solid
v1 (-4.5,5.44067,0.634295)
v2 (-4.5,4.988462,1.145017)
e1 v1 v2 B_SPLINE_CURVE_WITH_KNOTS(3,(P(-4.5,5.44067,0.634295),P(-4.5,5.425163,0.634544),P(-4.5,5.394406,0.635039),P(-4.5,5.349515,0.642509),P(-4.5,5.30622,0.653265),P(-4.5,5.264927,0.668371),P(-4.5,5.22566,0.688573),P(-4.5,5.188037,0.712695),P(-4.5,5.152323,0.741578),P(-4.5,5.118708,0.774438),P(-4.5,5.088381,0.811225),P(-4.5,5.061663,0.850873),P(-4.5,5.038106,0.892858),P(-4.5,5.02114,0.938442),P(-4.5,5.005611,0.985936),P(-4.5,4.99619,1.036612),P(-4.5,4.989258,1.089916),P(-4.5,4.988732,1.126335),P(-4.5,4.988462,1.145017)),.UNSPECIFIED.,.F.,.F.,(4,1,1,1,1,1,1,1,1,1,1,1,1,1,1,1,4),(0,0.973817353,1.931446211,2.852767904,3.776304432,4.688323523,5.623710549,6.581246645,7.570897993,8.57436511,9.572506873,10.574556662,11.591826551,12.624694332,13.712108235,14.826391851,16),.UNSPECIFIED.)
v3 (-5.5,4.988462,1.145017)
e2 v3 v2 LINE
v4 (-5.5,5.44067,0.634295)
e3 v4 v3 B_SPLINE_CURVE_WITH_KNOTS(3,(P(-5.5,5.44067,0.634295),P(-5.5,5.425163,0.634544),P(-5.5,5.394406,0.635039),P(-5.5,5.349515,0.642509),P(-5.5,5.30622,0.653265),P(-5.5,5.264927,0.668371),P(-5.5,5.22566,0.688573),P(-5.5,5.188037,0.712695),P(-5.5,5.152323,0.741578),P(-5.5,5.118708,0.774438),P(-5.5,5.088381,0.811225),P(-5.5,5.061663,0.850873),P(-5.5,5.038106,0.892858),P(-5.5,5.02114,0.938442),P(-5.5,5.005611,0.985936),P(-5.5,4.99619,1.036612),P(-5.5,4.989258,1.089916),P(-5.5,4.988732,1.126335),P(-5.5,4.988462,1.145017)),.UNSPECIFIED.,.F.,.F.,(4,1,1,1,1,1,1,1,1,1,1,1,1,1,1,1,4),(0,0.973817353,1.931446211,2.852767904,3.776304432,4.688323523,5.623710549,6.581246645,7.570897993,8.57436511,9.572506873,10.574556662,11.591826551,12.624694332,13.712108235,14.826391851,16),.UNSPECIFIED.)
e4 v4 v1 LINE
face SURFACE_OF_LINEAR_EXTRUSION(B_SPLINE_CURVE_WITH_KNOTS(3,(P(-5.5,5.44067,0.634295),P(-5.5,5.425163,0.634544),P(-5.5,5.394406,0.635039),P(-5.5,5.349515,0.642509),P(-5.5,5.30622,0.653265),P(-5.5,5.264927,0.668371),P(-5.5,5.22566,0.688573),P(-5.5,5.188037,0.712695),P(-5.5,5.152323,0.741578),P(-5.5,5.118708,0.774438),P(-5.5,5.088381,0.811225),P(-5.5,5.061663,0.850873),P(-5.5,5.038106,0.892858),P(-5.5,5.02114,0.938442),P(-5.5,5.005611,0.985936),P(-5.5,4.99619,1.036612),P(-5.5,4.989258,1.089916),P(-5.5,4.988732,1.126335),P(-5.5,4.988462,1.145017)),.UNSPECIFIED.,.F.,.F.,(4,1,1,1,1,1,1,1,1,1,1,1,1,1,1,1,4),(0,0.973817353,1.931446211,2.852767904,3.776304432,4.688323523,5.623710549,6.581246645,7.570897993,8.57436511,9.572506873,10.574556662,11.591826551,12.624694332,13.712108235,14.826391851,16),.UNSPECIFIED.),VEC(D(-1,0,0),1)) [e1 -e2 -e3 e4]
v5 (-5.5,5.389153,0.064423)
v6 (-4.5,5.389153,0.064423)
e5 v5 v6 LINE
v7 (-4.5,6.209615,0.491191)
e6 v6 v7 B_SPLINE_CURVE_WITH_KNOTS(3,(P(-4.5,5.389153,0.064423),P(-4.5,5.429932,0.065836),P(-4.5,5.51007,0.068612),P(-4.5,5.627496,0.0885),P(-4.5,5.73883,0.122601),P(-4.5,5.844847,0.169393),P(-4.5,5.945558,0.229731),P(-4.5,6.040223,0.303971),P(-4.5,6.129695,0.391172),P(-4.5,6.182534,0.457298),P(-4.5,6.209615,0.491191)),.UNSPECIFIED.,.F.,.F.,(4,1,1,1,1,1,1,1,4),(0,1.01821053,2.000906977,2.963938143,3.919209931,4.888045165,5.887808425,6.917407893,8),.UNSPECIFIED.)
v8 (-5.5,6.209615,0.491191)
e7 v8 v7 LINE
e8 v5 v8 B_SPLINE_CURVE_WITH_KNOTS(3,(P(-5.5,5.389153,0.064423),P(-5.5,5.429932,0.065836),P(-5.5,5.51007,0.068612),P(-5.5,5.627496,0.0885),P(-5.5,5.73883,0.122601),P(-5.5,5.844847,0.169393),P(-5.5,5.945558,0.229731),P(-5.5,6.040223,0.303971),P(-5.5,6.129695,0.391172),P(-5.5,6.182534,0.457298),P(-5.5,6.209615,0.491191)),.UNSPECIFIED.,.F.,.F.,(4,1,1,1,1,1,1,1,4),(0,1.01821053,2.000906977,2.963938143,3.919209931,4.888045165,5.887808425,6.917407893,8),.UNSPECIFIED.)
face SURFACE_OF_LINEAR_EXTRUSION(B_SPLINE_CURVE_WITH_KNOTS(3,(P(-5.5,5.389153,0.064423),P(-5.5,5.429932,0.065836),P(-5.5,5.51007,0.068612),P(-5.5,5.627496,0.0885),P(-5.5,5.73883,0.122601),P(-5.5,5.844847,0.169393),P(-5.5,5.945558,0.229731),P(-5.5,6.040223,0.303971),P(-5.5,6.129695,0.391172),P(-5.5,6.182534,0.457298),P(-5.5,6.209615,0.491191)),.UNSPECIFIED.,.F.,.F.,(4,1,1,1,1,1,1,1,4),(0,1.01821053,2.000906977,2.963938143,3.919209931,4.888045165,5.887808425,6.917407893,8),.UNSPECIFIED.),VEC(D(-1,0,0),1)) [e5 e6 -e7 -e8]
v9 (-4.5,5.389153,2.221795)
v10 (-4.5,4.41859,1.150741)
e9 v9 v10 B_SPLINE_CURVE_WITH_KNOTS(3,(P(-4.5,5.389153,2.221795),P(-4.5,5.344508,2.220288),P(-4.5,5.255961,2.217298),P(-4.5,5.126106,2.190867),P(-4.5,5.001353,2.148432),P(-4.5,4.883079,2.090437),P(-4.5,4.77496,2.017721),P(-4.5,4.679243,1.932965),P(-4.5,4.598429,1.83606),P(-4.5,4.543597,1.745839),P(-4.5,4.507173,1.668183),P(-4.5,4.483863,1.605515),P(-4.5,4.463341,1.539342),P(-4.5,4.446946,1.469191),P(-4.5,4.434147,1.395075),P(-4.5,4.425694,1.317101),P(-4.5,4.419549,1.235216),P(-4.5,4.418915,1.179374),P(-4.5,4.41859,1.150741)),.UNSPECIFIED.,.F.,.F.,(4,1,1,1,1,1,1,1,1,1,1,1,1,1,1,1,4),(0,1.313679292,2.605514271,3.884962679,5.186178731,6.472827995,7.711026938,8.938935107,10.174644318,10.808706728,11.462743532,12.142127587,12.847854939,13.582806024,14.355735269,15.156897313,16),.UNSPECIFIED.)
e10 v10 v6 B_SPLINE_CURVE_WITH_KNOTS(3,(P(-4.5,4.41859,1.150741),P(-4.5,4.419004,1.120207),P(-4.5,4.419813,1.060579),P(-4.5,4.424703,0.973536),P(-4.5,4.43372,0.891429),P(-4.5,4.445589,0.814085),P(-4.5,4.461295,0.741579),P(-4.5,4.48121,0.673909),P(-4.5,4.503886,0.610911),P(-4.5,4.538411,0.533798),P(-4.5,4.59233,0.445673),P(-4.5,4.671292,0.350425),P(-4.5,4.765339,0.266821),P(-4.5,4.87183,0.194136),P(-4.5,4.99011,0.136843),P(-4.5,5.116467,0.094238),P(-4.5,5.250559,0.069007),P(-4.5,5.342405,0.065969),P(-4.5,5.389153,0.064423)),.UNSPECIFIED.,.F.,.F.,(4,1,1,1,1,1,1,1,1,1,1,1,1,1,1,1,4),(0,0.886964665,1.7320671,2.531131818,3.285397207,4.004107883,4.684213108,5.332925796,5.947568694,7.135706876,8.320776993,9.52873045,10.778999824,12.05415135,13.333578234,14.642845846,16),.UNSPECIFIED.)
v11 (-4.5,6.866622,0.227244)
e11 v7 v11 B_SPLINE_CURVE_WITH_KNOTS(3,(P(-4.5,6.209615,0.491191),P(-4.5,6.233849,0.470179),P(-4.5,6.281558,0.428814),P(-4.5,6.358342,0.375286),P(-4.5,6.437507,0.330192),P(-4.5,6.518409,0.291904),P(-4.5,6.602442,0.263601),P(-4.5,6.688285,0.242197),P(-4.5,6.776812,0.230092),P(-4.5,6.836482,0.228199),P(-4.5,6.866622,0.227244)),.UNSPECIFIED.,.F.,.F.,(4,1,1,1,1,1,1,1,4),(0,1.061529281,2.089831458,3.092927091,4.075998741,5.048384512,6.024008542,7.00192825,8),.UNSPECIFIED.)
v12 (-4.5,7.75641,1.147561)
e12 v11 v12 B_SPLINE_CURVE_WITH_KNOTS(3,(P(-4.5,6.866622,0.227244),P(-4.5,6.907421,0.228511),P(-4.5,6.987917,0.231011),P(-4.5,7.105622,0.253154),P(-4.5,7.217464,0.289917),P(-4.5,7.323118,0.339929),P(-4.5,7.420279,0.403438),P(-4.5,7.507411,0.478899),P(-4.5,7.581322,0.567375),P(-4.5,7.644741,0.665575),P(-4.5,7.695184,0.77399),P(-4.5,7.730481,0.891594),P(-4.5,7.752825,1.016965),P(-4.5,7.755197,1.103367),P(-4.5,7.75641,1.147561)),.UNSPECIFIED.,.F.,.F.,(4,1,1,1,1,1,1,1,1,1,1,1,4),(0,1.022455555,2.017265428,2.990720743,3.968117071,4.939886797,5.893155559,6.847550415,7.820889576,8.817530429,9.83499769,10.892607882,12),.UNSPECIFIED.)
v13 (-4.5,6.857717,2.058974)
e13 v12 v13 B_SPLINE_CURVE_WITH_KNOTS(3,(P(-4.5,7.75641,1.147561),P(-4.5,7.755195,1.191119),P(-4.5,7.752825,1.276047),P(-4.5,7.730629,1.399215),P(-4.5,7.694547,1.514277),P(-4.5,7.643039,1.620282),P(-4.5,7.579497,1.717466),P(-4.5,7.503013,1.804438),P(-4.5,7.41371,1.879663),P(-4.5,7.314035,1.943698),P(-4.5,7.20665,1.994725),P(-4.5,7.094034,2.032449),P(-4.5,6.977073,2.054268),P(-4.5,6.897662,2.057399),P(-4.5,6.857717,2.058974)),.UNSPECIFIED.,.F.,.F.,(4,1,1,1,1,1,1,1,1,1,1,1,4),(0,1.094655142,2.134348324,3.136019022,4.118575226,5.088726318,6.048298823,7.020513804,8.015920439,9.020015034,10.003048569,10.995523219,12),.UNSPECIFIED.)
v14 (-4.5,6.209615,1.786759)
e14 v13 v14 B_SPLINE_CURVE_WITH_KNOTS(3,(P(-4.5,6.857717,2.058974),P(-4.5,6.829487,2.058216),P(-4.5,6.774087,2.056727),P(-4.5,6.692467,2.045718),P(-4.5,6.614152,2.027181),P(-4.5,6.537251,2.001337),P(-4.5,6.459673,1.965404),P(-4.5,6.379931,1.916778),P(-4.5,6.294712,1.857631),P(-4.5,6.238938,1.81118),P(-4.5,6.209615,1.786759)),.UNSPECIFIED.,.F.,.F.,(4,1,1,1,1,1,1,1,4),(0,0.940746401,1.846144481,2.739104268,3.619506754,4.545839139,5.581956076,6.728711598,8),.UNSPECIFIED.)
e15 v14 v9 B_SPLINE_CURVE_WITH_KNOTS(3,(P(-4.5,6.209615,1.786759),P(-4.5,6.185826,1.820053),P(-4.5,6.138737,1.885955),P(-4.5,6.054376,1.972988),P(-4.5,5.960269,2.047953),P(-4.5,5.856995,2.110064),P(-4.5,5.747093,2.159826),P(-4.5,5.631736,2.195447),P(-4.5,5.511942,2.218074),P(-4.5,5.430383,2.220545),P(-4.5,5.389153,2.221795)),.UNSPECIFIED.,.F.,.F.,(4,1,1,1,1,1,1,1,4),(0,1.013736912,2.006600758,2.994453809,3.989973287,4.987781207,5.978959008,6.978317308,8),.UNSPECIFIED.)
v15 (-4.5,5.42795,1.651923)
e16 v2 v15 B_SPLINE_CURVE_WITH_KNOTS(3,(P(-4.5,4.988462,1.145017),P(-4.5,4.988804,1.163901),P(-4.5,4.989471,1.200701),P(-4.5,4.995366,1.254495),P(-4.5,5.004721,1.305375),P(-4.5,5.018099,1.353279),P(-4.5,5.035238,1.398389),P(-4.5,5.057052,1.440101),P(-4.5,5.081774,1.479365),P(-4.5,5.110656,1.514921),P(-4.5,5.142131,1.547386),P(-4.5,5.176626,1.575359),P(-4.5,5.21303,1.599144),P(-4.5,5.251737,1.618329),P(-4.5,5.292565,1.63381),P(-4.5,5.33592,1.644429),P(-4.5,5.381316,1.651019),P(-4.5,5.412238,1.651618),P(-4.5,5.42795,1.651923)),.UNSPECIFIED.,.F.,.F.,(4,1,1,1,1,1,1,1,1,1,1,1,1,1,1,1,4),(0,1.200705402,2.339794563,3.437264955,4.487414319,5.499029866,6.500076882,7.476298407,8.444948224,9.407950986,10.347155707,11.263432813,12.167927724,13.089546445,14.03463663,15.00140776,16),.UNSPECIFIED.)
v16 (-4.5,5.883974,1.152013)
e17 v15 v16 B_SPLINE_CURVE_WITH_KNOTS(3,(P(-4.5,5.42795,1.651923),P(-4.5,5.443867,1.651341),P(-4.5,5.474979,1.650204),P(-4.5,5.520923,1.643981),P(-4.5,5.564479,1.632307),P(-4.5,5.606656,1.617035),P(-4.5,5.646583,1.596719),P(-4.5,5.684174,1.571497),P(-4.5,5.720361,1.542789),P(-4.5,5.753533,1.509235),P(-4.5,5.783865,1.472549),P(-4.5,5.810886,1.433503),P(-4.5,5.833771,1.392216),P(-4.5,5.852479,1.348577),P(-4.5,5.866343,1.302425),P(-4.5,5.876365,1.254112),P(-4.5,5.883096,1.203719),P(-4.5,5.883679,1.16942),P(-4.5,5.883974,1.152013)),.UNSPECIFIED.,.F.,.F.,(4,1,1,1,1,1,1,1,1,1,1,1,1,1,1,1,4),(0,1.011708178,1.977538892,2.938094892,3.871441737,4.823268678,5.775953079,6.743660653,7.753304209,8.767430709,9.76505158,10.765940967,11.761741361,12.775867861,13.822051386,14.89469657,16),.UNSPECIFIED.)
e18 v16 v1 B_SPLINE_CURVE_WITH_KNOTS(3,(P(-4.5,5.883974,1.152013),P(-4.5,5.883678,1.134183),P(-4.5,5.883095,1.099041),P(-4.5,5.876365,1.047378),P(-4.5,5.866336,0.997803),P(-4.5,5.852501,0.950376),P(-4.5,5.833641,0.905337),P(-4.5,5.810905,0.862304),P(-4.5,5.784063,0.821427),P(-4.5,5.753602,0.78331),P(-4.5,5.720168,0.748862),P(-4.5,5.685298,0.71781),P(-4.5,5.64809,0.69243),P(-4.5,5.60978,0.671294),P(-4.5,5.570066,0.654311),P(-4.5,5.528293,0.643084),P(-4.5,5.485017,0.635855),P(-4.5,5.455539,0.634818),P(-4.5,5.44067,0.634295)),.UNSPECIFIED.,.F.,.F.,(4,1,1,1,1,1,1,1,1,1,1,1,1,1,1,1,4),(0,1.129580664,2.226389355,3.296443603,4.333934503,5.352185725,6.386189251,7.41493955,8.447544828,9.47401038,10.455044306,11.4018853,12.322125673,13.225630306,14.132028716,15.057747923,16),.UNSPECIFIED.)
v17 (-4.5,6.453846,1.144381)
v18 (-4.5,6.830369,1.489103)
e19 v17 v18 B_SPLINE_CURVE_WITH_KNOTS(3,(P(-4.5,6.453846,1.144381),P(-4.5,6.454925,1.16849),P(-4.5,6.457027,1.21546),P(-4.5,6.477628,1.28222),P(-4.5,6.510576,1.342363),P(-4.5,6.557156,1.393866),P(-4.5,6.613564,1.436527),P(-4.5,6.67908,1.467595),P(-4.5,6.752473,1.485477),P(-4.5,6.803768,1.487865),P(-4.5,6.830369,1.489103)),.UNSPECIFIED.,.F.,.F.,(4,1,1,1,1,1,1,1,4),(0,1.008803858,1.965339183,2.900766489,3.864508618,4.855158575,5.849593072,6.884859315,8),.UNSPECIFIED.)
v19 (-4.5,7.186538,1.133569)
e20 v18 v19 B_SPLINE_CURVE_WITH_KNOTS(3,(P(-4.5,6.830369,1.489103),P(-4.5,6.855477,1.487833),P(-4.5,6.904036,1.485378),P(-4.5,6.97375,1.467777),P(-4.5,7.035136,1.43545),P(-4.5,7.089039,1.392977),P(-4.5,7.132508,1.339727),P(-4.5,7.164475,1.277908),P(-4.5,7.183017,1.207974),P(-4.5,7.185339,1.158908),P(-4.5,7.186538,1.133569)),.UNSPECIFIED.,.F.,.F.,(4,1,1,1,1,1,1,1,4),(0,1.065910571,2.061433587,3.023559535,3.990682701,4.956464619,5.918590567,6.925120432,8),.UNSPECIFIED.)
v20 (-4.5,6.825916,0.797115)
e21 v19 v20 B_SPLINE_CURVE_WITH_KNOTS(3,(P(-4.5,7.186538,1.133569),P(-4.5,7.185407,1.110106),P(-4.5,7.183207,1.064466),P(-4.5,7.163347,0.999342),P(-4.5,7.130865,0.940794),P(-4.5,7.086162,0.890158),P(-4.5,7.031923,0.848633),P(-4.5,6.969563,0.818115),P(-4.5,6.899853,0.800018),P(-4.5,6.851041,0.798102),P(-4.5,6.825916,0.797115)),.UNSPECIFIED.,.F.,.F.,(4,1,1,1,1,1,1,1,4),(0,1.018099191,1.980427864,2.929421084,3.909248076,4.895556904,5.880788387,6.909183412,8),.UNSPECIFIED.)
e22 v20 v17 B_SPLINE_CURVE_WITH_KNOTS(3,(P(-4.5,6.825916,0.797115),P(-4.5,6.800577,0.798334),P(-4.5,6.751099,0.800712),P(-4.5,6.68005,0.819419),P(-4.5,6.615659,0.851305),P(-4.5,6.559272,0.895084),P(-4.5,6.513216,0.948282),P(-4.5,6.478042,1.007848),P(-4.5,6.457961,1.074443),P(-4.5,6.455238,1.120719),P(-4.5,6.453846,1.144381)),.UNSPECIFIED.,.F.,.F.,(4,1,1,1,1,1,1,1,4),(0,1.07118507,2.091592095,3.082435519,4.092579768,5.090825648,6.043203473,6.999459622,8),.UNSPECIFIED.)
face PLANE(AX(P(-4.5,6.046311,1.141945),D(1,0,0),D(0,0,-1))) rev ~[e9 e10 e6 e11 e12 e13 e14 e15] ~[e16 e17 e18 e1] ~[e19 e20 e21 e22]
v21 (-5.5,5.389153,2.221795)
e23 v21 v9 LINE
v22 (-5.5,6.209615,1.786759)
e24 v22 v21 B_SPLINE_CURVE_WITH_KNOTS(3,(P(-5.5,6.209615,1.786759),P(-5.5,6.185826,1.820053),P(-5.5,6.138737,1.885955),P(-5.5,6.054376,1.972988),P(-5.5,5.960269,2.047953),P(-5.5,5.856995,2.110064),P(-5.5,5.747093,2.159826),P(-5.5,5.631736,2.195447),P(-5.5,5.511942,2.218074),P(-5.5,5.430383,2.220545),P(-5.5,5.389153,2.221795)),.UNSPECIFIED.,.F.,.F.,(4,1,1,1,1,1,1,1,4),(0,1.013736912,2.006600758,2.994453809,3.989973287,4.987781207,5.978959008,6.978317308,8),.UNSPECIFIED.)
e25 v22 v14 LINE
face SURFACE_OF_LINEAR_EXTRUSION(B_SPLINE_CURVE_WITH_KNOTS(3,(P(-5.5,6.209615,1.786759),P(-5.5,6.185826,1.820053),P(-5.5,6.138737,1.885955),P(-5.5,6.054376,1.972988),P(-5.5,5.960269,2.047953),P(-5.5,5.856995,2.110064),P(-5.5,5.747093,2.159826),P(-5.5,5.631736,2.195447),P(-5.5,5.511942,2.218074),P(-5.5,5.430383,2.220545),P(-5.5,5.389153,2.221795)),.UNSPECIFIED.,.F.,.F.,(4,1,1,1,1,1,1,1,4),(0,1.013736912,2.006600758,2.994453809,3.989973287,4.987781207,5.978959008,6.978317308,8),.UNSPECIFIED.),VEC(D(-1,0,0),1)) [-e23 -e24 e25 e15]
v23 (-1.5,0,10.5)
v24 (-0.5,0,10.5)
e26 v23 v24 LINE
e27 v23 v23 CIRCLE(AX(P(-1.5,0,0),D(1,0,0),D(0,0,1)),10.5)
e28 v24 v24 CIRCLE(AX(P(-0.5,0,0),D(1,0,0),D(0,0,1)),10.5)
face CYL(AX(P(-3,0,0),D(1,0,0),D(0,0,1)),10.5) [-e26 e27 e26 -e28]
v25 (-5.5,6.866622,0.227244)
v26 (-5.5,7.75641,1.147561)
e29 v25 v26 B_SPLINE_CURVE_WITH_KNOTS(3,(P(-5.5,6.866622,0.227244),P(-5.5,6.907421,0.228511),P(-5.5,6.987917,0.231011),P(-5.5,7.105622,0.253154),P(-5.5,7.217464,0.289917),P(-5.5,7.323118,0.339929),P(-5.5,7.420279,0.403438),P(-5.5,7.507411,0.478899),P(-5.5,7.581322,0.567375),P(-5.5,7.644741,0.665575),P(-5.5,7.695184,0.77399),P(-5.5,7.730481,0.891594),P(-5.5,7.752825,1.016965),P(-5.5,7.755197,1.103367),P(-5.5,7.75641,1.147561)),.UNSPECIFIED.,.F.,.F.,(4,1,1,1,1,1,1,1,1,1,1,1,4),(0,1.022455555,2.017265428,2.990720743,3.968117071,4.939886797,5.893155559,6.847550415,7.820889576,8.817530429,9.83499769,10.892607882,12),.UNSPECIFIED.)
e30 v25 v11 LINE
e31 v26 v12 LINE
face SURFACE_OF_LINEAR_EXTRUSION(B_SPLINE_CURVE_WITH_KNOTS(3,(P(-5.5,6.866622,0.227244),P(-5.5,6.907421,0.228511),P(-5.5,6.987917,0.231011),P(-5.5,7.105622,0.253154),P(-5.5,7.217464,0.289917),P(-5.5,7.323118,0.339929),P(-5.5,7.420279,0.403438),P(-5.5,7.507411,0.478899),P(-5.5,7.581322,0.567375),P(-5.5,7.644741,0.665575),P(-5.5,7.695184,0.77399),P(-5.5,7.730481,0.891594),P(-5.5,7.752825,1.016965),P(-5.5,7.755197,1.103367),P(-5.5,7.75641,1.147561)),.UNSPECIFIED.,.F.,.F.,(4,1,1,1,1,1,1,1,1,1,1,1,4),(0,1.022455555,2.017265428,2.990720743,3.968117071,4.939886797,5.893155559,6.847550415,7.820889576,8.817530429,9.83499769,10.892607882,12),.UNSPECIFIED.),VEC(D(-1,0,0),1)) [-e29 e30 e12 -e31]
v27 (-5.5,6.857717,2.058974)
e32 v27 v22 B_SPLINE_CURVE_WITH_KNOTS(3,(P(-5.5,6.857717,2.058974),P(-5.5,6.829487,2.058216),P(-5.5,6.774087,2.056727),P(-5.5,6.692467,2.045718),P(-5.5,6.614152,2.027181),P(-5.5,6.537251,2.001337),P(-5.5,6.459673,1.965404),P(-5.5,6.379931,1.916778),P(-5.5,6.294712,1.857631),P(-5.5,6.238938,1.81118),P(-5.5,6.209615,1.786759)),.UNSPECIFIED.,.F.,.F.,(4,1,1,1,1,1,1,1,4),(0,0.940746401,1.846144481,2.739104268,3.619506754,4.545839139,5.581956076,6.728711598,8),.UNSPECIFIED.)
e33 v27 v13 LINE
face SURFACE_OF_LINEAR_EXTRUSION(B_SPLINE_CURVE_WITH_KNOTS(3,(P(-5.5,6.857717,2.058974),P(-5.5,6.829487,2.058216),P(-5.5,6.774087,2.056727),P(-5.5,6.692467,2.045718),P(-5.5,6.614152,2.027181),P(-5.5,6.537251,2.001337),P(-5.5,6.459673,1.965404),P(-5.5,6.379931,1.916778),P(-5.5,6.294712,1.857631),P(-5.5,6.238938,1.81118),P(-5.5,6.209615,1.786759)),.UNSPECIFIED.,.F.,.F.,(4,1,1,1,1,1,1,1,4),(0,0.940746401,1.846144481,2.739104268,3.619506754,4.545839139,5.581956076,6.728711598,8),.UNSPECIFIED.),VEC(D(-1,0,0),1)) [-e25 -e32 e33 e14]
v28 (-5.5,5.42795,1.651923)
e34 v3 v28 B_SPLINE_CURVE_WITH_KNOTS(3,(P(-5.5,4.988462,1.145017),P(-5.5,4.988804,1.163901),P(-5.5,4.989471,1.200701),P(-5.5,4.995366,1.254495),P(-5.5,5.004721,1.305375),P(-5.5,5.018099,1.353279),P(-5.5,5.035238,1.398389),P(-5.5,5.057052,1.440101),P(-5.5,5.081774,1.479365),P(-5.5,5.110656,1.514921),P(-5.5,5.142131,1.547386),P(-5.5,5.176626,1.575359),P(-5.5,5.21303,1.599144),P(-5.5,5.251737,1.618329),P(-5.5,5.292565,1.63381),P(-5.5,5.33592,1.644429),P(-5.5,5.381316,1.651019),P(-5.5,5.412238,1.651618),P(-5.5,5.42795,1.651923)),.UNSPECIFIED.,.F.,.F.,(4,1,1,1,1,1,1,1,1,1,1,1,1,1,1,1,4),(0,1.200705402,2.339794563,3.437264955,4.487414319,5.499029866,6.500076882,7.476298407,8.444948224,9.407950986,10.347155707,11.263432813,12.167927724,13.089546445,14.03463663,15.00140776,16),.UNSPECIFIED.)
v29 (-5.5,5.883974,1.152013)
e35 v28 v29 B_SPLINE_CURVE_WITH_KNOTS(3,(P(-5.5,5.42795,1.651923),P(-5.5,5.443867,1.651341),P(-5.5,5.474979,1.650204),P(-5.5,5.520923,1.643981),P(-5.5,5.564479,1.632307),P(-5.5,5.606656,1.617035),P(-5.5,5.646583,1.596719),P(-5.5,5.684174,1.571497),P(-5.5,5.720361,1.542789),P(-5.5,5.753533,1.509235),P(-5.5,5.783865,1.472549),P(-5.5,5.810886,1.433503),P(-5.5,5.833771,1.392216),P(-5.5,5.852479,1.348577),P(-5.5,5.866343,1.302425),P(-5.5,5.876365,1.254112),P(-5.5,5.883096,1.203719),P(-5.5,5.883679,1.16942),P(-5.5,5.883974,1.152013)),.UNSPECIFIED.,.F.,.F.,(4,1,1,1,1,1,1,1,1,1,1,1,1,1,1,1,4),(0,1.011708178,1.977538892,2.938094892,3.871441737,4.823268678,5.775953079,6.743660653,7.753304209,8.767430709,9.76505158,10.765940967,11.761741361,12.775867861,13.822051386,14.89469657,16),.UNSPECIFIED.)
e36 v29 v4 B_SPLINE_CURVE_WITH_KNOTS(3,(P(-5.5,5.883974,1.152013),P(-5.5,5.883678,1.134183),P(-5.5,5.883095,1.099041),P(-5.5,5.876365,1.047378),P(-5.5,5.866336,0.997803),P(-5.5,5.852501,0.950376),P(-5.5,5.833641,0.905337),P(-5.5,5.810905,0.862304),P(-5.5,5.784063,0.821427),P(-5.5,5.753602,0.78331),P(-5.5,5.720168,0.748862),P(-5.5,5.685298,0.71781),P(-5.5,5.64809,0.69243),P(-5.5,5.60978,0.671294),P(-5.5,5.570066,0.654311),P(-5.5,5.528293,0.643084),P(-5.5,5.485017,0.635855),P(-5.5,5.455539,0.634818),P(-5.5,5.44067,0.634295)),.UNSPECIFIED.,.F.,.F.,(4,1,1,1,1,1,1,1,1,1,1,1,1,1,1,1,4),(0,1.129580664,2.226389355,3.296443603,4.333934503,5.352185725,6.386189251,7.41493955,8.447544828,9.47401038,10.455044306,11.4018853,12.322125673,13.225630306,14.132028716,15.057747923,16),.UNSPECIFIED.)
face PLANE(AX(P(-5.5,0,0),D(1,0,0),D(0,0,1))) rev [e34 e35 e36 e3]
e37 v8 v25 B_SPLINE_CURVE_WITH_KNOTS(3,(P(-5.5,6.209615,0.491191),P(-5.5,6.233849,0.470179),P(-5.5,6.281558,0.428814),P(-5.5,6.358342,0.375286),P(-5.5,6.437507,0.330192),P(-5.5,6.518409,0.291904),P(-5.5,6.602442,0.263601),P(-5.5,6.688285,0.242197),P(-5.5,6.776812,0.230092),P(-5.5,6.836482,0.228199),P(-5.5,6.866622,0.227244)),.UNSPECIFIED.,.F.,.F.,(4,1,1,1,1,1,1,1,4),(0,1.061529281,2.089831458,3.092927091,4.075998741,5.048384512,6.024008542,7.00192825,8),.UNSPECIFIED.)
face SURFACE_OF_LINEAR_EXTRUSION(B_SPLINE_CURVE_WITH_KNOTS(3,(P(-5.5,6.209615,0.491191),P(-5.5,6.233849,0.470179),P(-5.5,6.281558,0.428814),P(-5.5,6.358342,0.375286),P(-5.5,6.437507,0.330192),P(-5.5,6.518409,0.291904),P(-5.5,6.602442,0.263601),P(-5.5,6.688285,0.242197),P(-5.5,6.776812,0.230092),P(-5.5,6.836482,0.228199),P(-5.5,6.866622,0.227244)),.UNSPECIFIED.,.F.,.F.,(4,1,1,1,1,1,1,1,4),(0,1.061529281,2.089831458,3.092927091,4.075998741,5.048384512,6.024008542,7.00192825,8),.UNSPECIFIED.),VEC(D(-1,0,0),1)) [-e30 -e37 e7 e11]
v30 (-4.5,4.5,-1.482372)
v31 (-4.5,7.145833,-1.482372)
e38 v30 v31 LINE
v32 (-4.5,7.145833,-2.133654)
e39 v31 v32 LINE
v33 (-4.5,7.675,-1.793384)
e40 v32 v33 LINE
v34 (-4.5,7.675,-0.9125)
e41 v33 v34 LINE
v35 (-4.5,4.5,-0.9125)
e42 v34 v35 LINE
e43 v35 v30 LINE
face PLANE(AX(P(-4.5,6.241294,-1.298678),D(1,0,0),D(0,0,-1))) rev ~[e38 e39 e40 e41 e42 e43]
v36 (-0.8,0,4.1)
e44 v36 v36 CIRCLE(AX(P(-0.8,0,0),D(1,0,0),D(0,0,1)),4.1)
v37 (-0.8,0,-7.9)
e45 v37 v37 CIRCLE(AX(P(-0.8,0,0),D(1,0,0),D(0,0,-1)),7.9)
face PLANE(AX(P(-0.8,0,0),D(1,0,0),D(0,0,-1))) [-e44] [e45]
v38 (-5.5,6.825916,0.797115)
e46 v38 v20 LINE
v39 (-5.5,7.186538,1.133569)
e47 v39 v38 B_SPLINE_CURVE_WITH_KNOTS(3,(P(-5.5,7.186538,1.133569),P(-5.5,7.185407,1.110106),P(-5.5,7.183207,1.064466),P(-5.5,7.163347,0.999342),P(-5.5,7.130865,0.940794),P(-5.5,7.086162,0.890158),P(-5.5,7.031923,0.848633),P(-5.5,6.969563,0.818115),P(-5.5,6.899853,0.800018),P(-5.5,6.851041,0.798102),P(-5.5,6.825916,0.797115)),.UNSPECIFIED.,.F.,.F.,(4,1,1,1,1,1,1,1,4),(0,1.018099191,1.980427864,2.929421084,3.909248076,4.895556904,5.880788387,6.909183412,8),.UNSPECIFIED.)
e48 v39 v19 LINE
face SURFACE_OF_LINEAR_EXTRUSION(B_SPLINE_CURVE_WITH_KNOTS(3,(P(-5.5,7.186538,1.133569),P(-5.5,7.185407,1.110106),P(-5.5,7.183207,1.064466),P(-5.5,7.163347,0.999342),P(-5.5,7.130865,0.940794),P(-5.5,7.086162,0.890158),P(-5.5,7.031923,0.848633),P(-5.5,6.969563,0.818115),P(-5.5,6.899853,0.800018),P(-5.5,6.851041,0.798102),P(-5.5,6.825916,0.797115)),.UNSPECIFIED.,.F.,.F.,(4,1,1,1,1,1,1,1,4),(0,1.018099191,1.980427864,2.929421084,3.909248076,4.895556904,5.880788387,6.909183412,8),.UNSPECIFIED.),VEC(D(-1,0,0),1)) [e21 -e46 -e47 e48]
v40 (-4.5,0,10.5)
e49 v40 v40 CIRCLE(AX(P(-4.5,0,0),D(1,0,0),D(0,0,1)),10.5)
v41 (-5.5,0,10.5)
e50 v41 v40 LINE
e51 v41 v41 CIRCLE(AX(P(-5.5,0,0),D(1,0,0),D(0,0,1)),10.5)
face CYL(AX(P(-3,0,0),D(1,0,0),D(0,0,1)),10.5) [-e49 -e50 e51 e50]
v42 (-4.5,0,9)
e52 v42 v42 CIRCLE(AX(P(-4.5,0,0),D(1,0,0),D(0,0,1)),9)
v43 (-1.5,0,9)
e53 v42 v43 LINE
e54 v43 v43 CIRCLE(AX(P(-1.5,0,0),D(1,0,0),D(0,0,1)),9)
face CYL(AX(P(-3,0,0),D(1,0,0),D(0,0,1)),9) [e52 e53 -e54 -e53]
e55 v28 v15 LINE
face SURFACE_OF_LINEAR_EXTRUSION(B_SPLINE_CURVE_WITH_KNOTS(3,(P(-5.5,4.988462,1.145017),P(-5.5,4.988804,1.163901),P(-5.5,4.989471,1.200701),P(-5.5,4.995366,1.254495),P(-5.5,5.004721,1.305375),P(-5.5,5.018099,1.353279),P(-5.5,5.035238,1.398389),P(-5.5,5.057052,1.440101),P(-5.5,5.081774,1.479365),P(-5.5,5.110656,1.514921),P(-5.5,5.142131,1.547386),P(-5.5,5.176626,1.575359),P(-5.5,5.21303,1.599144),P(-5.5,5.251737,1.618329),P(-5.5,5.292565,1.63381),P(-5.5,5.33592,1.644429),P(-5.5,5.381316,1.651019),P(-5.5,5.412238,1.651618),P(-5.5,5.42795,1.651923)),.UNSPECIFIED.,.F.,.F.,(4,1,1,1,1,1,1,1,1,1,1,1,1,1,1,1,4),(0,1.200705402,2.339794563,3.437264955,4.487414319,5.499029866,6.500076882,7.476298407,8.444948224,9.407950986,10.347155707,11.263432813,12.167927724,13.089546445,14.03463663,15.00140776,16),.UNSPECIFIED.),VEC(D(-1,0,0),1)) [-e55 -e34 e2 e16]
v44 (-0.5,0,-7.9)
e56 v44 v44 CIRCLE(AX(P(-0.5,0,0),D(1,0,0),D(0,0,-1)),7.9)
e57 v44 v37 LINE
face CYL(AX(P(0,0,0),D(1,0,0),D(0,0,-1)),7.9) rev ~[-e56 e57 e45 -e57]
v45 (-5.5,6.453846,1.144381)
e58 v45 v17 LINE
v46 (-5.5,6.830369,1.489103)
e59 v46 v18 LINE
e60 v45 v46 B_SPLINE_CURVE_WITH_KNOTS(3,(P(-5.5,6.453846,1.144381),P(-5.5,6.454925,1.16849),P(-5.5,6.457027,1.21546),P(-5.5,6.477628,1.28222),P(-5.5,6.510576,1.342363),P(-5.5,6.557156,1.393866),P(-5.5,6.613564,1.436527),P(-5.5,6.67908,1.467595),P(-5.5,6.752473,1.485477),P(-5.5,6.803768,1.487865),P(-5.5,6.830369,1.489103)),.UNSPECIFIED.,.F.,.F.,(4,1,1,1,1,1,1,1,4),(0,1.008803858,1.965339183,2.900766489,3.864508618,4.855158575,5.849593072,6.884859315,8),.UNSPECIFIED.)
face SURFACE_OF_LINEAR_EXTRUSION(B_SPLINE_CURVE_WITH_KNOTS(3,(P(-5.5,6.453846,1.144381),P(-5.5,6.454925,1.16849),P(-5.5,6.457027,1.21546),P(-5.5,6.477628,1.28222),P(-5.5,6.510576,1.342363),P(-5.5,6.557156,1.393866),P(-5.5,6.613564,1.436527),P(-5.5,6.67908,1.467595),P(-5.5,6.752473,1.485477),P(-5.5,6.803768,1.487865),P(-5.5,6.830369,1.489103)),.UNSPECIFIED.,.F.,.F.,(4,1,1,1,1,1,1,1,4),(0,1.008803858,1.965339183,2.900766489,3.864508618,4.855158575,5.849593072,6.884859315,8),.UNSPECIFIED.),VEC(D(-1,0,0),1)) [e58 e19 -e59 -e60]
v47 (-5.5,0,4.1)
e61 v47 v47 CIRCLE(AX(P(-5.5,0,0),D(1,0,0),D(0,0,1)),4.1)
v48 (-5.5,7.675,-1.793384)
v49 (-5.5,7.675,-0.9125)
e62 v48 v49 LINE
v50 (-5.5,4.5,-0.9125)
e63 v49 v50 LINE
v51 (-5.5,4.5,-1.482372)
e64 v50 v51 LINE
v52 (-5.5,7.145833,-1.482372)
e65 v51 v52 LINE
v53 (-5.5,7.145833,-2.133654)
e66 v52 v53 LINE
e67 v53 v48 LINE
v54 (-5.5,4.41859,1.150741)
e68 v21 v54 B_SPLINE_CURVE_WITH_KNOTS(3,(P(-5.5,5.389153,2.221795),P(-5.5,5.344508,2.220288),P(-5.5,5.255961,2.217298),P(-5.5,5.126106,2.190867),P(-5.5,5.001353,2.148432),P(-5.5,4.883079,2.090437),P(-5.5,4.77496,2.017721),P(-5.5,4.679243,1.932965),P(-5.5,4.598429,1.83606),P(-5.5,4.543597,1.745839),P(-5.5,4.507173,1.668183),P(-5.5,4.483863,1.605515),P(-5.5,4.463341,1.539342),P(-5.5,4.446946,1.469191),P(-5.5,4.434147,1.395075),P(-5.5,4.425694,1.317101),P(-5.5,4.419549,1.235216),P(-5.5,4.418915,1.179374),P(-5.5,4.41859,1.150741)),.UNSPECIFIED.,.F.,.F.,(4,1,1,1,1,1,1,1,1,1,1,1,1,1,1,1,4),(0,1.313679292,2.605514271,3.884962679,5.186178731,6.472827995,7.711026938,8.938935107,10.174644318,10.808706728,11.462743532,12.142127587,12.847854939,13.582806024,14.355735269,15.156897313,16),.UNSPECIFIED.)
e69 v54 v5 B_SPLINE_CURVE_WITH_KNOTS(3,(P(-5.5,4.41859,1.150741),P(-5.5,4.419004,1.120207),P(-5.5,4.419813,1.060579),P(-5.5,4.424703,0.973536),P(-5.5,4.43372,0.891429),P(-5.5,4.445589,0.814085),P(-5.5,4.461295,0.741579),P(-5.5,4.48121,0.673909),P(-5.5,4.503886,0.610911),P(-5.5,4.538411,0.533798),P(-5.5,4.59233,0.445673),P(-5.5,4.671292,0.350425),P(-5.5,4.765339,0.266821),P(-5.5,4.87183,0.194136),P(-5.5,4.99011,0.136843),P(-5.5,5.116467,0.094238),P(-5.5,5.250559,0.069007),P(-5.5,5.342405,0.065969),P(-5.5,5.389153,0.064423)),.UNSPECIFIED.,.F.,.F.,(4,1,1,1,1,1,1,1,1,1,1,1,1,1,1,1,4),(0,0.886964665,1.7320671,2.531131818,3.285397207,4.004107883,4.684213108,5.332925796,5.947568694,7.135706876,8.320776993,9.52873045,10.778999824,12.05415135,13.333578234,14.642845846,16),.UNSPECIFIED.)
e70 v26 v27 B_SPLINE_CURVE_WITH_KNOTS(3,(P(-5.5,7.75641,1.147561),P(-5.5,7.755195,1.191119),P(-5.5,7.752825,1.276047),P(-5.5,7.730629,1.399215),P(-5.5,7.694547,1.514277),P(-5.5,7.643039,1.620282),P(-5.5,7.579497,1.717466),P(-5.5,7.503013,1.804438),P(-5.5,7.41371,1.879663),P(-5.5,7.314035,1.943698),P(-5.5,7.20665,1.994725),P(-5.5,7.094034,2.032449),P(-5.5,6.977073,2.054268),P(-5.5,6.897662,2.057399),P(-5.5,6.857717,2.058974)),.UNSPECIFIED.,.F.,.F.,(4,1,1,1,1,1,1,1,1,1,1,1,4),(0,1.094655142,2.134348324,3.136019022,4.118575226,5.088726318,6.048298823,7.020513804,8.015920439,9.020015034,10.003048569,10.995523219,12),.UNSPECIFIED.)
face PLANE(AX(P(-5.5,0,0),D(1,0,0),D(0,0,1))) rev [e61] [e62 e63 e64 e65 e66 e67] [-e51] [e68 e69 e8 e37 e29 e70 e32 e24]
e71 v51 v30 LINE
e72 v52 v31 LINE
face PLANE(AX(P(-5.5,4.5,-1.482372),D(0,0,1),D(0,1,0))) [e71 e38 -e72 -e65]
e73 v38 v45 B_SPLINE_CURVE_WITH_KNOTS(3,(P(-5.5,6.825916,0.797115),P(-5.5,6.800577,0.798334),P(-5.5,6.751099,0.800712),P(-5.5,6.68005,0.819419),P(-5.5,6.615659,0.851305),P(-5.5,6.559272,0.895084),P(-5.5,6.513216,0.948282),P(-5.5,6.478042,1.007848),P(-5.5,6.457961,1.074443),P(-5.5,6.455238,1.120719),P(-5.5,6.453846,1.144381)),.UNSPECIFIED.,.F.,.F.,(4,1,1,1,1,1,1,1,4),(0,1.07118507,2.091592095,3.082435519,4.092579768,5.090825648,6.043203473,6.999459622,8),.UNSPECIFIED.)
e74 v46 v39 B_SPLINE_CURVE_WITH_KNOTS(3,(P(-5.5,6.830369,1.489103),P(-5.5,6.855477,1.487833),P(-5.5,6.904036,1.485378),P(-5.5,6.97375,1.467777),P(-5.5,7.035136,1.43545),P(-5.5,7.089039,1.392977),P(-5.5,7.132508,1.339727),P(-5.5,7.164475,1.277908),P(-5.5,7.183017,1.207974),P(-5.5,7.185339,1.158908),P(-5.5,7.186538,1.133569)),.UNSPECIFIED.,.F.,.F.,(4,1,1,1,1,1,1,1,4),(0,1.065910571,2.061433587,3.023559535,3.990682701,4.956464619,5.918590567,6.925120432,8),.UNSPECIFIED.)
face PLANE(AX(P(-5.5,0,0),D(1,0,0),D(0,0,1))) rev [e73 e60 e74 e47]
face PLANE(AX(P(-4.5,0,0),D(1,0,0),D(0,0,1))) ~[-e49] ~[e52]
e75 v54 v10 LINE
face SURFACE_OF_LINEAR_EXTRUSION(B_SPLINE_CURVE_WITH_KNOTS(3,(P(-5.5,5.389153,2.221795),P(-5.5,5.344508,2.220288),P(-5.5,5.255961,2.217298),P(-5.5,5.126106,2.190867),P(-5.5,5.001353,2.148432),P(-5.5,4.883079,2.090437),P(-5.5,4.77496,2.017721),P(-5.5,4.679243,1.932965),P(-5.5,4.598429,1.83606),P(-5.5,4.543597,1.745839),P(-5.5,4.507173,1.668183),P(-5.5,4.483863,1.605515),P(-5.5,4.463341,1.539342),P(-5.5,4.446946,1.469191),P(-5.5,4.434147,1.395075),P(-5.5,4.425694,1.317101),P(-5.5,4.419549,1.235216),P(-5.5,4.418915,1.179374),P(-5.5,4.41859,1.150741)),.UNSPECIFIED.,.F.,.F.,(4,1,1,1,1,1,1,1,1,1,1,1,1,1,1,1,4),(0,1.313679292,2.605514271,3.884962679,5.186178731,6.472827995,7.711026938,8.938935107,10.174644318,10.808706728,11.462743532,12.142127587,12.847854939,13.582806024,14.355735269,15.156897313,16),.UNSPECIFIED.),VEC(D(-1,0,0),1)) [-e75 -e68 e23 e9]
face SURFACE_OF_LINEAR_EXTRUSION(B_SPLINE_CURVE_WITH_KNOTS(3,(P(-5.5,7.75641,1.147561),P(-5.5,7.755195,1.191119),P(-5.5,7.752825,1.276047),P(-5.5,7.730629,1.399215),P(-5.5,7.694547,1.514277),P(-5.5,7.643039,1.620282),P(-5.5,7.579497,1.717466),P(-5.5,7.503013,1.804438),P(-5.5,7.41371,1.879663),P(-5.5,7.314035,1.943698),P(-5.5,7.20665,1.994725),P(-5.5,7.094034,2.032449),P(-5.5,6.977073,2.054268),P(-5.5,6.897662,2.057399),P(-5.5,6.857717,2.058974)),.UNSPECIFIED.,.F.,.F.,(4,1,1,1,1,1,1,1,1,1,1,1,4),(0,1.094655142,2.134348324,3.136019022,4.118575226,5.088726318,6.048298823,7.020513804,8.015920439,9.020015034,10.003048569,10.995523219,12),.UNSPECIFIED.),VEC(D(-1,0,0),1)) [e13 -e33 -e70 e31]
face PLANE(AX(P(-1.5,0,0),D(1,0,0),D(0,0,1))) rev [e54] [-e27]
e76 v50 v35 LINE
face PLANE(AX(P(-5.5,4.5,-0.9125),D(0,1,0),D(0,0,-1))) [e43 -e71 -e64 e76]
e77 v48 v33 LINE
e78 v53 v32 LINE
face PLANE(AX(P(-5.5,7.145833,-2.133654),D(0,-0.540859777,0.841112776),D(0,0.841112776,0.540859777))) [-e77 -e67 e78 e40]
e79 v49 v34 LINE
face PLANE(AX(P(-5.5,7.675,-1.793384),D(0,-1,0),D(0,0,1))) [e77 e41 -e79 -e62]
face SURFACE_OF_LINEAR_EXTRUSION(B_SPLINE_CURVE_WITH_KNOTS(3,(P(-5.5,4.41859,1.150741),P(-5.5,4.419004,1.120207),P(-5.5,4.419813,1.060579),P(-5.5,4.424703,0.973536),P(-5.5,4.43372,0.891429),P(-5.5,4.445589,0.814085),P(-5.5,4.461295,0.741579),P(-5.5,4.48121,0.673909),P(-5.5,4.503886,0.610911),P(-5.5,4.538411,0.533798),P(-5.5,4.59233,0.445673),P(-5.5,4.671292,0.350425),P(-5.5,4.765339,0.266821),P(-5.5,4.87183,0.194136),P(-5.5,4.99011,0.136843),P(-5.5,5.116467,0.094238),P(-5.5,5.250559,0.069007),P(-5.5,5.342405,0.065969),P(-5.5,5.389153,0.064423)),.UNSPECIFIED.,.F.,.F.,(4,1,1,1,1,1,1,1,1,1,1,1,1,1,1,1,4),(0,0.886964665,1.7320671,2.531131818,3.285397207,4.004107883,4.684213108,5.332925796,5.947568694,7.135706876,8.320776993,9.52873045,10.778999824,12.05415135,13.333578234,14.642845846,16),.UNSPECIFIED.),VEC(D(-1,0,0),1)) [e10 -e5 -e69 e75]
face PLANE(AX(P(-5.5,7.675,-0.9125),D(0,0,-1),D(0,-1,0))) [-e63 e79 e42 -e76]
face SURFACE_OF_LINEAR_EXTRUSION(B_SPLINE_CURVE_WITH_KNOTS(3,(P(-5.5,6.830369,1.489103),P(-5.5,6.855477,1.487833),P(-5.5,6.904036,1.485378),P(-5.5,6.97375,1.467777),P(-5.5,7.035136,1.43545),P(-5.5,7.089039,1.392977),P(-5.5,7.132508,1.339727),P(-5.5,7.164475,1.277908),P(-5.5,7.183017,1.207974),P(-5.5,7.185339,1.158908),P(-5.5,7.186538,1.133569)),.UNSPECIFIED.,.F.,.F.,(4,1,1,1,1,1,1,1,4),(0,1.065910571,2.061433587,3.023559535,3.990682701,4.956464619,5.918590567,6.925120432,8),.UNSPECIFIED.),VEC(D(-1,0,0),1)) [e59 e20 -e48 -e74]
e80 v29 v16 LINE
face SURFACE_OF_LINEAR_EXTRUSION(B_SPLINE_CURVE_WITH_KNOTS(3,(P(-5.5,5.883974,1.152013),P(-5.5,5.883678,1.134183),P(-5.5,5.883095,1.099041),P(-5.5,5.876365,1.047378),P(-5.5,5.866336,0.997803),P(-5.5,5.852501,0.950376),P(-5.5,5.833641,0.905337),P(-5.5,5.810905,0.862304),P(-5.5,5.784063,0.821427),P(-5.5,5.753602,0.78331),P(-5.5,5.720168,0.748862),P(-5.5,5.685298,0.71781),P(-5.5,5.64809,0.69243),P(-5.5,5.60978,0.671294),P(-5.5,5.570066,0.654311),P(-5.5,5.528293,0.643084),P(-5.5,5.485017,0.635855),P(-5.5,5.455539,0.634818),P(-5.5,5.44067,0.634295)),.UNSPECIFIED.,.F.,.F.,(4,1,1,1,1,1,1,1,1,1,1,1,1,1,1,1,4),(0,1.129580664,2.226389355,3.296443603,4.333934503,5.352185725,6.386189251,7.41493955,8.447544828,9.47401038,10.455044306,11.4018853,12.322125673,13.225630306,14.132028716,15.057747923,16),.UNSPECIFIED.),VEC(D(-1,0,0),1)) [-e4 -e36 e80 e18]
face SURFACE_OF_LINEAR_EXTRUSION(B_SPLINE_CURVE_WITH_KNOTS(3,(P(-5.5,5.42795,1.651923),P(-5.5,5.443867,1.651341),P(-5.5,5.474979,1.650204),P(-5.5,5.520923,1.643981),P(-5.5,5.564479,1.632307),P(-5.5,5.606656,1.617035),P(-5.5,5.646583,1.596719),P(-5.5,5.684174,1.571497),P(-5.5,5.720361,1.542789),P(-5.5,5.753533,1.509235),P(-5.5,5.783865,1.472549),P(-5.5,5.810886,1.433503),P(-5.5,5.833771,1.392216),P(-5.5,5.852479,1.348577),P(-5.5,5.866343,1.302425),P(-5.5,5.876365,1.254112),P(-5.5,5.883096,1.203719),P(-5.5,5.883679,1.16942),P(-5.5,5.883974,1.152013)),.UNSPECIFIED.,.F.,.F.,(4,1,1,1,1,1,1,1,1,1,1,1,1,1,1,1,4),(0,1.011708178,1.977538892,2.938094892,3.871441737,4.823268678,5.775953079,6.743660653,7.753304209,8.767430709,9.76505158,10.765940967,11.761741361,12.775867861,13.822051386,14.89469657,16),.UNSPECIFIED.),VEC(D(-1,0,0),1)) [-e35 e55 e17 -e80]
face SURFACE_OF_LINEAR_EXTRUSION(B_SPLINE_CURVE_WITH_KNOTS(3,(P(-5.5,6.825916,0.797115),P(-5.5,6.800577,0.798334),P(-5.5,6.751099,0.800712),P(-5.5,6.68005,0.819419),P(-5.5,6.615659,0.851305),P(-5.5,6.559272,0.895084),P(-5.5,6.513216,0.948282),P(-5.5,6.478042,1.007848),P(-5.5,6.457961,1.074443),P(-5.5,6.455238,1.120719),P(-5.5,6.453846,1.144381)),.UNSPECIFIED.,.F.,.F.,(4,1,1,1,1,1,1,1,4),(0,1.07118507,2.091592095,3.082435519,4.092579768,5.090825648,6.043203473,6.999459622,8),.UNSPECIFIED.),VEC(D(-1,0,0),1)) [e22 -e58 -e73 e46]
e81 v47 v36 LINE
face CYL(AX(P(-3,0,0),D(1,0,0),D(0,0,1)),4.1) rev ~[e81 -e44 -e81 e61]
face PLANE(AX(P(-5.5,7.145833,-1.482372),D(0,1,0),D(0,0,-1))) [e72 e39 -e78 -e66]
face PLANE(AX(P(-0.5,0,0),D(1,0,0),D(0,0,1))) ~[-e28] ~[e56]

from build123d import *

# Parameters (mm, degrees)
SKETCH1_W          = 5
SKETCH1_H          = 6.4
SKETCH2_W          = 3
SKETCH2_H          = 1.5
SKETCH3_R          = 7.9
CUT_EXTRUDE1_DEPTH = 0.8
CUT_EXTRUDE2_DEPTH = 1


with BuildPart() as part:
    # Sketch1 → Revolve1 (revolve)
    with BuildSketch(Plane.XY, mode=Mode.PRIVATE) as revolve1_sk:
        with Locations((-3, 7.3)):
            Rectangle(SKETCH1_W, SKETCH1_H)
    revolve(revolve1_sk.sketch.rotate(Axis((0, 0, 0), (1, 0, 0)), 90), axis=Axis((0, 0, 0), (1, 0, 0)))

    # Sketch2 → Cut-Revolve1 (revolve, cut)
    with BuildSketch(Plane.XY, mode=Mode.PRIVATE) as cut_revolve1_sk:
        with Locations((-3, 9.75)):
            Rectangle(SKETCH2_W, SKETCH2_H)
    revolve(cut_revolve1_sk.sketch.rotate(Axis((0, 0, 0), (1, 0, 0)), 90), axis=Axis((0, 0, 0), (1, 0, 0)), mode=Mode.SUBTRACT)

    # Sketch3 → Cut-Extrude1 (cut)
    with BuildSketch(Plane(origin=(0, 0, 0), x_dir=(0, 0, -1), z_dir=(1, 0, 0))):
        Circle(SKETCH3_R)
    extrude(amount=-CUT_EXTRUDE1_DEPTH, mode=Mode.SUBTRACT)

    # Sketch5 → Cut-Extrude2 (cut)
    # profile 1 of 2: a face of its own
    with BuildSketch(Plane.ZY.offset(5.5)):
        Polygon((-1.793384415, 7.675), (-0.9125, 7.675), (-0.9125, 4.5), (-1.482371795, 4.5), (-1.482371795, 7.145833333), (-2.133653846, 7.145833333), align=None)
    # profile 2 of 2: a face of its own
    with BuildSketch(Plane.ZY.offset(5.5)):
        with BuildLine():
            add(Edge.make_bspline(
                [(1.786758814, 6.209615385), (1.820052688, 6.185826012), (1.885954908, 6.138737096), (1.972987633, 6.054375541), (2.047953153, 5.960269248), (2.110064245, 5.856995446), (2.159825779, 5.747092633), (2.195447488, 5.631735537), (2.218073988, 5.511941637), (2.220545477, 5.430382608), (2.221794872, 5.389152644)],
                knots=[0, 0, 0, 0, 1.013736912, 2.006600758, 2.994453809, 3.989973287, 4.987781207, 5.978959008, 6.978317308, 8, 8, 8, 8], degree=3))
            add(Edge.make_bspline(
                [(2.221794872, 5.389152644), (2.220287572, 5.34450785), (2.217298037, 5.255960631), (2.190866551, 5.126106148), (2.14843186, 5.00135344), (2.090436575, 4.883079461), (2.017721153, 4.774959714), (1.932964566, 4.679242926), (1.836059971, 4.598428905), (1.745839049, 4.543597114), (1.668182749, 4.507173392), (1.605514797, 4.483862941), (1.539341558, 4.46334135), (1.469190831, 4.446945961), (1.395075371, 4.434146669), (1.31710095, 4.42569404), (1.235216239, 4.419549495), (1.179374328, 4.418915055), (1.150741186, 4.418589744)],
                knots=[0, 0, 0, 0, 1.313679292, 2.605514271, 3.884962679, 5.186178731, 6.472827995, 7.711026938, 8.938935107, 10.174644318, 10.808706728, 11.462743532, 12.142127587, 12.847854939, 13.582806024, 14.355735269, 15.156897313, 16, 16, 16, 16], degree=3))
            add(Edge.make_bspline(
                [(1.150741186, 4.418589744), (1.120206781, 4.41900393), (1.060579108, 4.419812753), (0.973535988, 4.424703329), (0.891428611, 4.433719654), (0.814084743, 4.445588948), (0.741578798, 4.461295464), (0.673908628, 4.481210467), (0.610910835, 4.503885913), (0.533798227, 4.538411225), (0.4456725, 4.592329893), (0.350424526, 4.671292228), (0.266821174, 4.765338836), (0.194135977, 4.871829843), (0.136842765, 4.990110116), (0.094237825, 5.116467223), (0.069006675, 5.250558751), (0.065969127, 5.342404855), (0.064423077, 5.389152644)],
                knots=[0, 0, 0, 0, 0.886964665, 1.7320671, 2.531131818, 3.285397207, 4.004107883, 4.684213108, 5.332925796, 5.947568694, 7.135706876, 8.320776993, 9.52873045, 10.778999824, 12.05415135, 13.333578234, 14.642845846, 16, 16, 16, 16], degree=3))
            add(Edge.make_bspline(
                [(0.064423077, 5.389152644), (0.065835907, 5.4299324), (0.068612291, 5.510069557), (0.088499898, 5.627495836), (0.122601102, 5.738829844), (0.169393262, 5.844846641), (0.229730957, 5.945558024), (0.30397099, 6.040222955), (0.391172072, 6.129695445), (0.457298282, 6.182533521), (0.491190905, 6.209615385)],
                knots=[0, 0, 0, 0, 1.01821053, 2.000906977, 2.963938143, 3.919209931, 4.888045165, 5.887808425, 6.917407893, 8, 8, 8, 8], degree=3))
            add(Edge.make_bspline(
                [(0.491190905, 6.209615385), (0.470179277, 6.233849224), (0.428813708, 6.281558356), (0.375286255, 6.358342401), (0.33019163, 6.437506832), (0.291904146, 6.518409188), (0.263601062, 6.602442406), (0.242197406, 6.68828531), (0.230091519, 6.776812445), (0.228199332, 6.836482365), (0.22724359, 6.866621595)],
                knots=[0, 0, 0, 0, 1.061529281, 2.089831458, 3.092927091, 4.075998741, 5.048384512, 6.024008542, 7.00192825, 8, 8, 8, 8], degree=3))
            add(Edge.make_bspline(
                [(0.22724359, 6.866621595), (0.228510758, 6.907421227), (0.231010833, 6.987917329), (0.25315385, 7.105621637), (0.289916635, 7.217464189), (0.339929274, 7.323117526), (0.403437554, 7.420279049), (0.47889914, 7.507411214), (0.567374874, 7.581322406), (0.665574579, 7.64474147), (0.773990481, 7.695184406), (0.89159394, 7.730480594), (1.016964877, 7.752824943), (1.103366784, 7.755196971), (1.147561098, 7.756410256)],
                knots=[0, 0, 0, 0, 1.022455555, 2.017265428, 2.990720743, 3.968117071, 4.939886797, 5.893155559, 6.847550415, 7.820889576, 8.817530429, 9.83499769, 10.892607882, 12, 12, 12, 12], degree=3))
            add(Edge.make_bspline(
                [(1.147561098, 7.756410256), (1.191118898, 7.755194985), (1.276047488, 7.752825462), (1.399215198, 7.730629167), (1.514277223, 7.694546749), (1.620282085, 7.643038738), (1.717466215, 7.579497441), (1.804438236, 7.503012731), (1.879663021, 7.413710397), (1.94369846, 7.314035335), (1.994724865, 7.206649897), (2.032448506, 7.094033972), (2.054268305, 6.977072732), (2.057399401, 6.897661569), (2.058974359, 6.857717348)],
                knots=[0, 0, 0, 0, 1.094655142, 2.134348324, 3.136019022, 4.118575226, 5.088726318, 6.048298823, 7.020513804, 8.015920439, 9.020015034, 10.003048569, 10.995523219, 12, 12, 12, 12], degree=3))
            add(Edge.make_bspline(
                [(2.058974359, 6.857717348), (2.058215664, 6.829486932), (2.056726782, 6.774086853), (2.045718289, 6.692466901), (2.027181337, 6.614152447), (2.00133663, 6.537250953), (1.965403664, 6.459672577), (1.916778006, 6.379930777), (1.857631279, 6.294712264), (1.811180399, 6.238938489), (1.786758814, 6.209615385)],
                knots=[0, 0, 0, 0, 0.940746401, 1.846144481, 2.739104268, 3.619506754, 4.545839139, 5.581956076, 6.728711598, 8, 8, 8, 8], degree=3))
        make_face()
        with BuildLine():
            add(Edge.make_bspline(
                [(1.13356871, 7.186538462), (1.110105898, 7.185407337), (1.064465545, 7.183207049), (0.999342106, 7.163347019), (0.940794009, 7.130864527), (0.890157731, 7.086162225), (0.848633343, 7.031922679), (0.8181152, 6.969563237), (0.80001758, 6.899853484), (0.798101595, 6.851041394), (0.797115385, 6.825916466)],
                knots=[0, 0, 0, 0, 1.018099191, 1.980427864, 2.929421084, 3.909248076, 4.895556904, 5.880788387, 6.909183412, 8, 8, 8, 8], degree=3))
            add(Edge.make_bspline(
                [(0.797115385, 6.825916466), (0.798333656, 6.800576967), (0.800712448, 6.751099152), (0.819418974, 6.680050049), (0.851304765, 6.615659356), (0.89508374, 6.559271984), (0.948282285, 6.513216409), (1.007848346, 6.478041724), (1.074442524, 6.457961409), (1.120719086, 6.455238447), (1.14438101, 6.453846154)],
                knots=[0, 0, 0, 0, 1.07118507, 2.091592095, 3.082435519, 4.092579768, 5.090825648, 6.043203473, 6.999459622, 8, 8, 8, 8], degree=3))
            add(Edge.make_bspline(
                [(1.14438101, 6.453846154), (1.168490274, 6.454924942), (1.215459644, 6.457026624), (1.282220098, 6.477627967), (1.342362736, 6.510575617), (1.393866019, 6.557156306), (1.436526559, 6.613564099), (1.467595246, 6.679080076), (1.485477259, 6.752473276), (1.487864571, 6.803768386), (1.489102564, 6.83036859)],
                knots=[0, 0, 0, 0, 1.008803858, 1.965339183, 2.900766489, 3.864508618, 4.855158575, 5.849593072, 6.884859315, 8, 8, 8, 8], degree=3))
            add(Edge.make_bspline(
                [(1.489102564, 6.83036859), (1.487833255, 6.855476908), (1.485378456, 6.904035512), (1.467776605, 6.973749787), (1.435449925, 7.035135947), (1.392976839, 7.089038677), (1.339726971, 7.132507876), (1.277907775, 7.164475387), (1.207974461, 7.183016853), (1.158907715, 7.185339172), (1.13356871, 7.186538462)],
                knots=[0, 0, 0, 0, 1.065910571, 2.061433587, 3.023559535, 3.990682701, 4.956464619, 5.918590567, 6.925120432, 8, 8, 8, 8], degree=3))
        make_face(mode=Mode.SUBTRACT)
        with BuildLine():
            add(Edge.make_bspline(
                [(1.152013221, 5.883974359), (1.13418326, 5.883678266), (1.09904063, 5.88309467), (1.047378076, 5.876364936), (0.997802545, 5.866335968), (0.950375546, 5.852501289), (0.905336675, 5.833641141), (0.862304152, 5.810904884), (0.821426594, 5.784062683), (0.783310327, 5.753601858), (0.748862129, 5.720168201), (0.717810211, 5.68529798), (0.692429653, 5.648089706), (0.671293699, 5.609780194), (0.654310841, 5.570065862), (0.643083888, 5.528292696), (0.635855302, 5.485016998), (0.634818075, 5.455539347), (0.634294872, 5.440670072)],
                knots=[0, 0, 0, 0, 1.129580664, 2.226389355, 3.296443603, 4.333934503, 5.352185725, 6.386189251, 7.41493955, 8.447544828, 9.47401038, 10.455044306, 11.4018853, 12.322125673, 13.225630306, 14.132028716, 15.057747923, 16, 16, 16, 16], degree=3))
            add(Edge.make_bspline(
                [(0.634294872, 5.440670072), (0.63454424, 5.425162887), (0.63503883, 5.394406304), (0.642508927, 5.349514587), (0.653264548, 5.306219609), (0.66837116, 5.264926636), (0.688573384, 5.225659711), (0.712695206, 5.188037072), (0.741577744, 5.152322538), (0.774437858, 5.118707595), (0.81122461, 5.088380917), (0.850872666, 5.061662584), (0.892858367, 5.038106335), (0.938442094, 5.021140191), (0.985935698, 5.005611286), (1.036611549, 4.996190273), (1.089916154, 4.98925803), (1.126335289, 4.988731586), (1.145017027, 4.988461538)],
                knots=[0, 0, 0, 0, 0.973817353, 1.931446211, 2.852767904, 3.776304432, 4.688323523, 5.623710549, 6.581246645, 7.570897993, 8.57436511, 9.572506873, 10.574556662, 11.591826551, 12.624694332, 13.712108235, 14.826391851, 16, 16, 16, 16], degree=3))
            add(Edge.make_bspline(
                [(1.145017027, 4.988461538), (1.163901485, 4.988803842), (1.200701313, 4.989470882), (1.25449526, 4.995366257), (1.305374788, 5.004720502), (1.353279122, 5.018099252), (1.398389413, 5.035237963), (1.440100547, 5.057052151), (1.479364857, 5.081773696), (1.514920581, 5.110655854), (1.547385577, 5.142131378), (1.57535873, 5.176625875), (1.599143992, 5.213030128), (1.618329397, 5.251737483), (1.633810296, 5.292565228), (1.644429222, 5.335920457), (1.651018647, 5.381315958), (1.651618364, 5.412238245), (1.651923077, 5.42794972)],
                knots=[0, 0, 0, 0, 1.200705402, 2.339794563, 3.437264955, 4.487414319, 5.499029866, 6.500076882, 7.476298407, 8.444948224, 9.407950986, 10.347155707, 11.263432813, 12.167927724, 13.089546445, 14.03463663, 15.00140776, 16, 16, 16, 16], degree=3))
            add(Edge.make_bspline(
                [(1.651923077, 5.42794972), (1.651341254, 5.443866599), (1.650203992, 5.474978582), (1.643981063, 5.520922743), (1.632307482, 5.564478525), (1.617035028, 5.606656097), (1.596719157, 5.646582665), (1.571497443, 5.684173963), (1.542788942, 5.720361173), (1.509235047, 5.753533371), (1.472549081, 5.783864551), (1.433502717, 5.810886303), (1.392216224, 5.833771234), (1.348576668, 5.852478529), (1.3024246, 5.866343167), (1.254112164, 5.876364584), (1.203718609, 5.883096176), (1.169419787, 5.88367872), (1.152013221, 5.883974359)],
                knots=[0, 0, 0, 0, 1.011708178, 1.977538892, 2.938094892, 3.871441737, 4.823268678, 5.775953079, 6.743660653, 7.753304209, 8.767430709, 9.76505158, 10.765940967, 11.761741361, 12.775867861, 13.822051386, 14.89469657, 16, 16, 16, 16], degree=3))
        make_face(mode=Mode.SUBTRACT)
    extrude(amount=-CUT_EXTRUDE2_DEPTH, mode=Mode.SUBTRACT)


solid = part.part
